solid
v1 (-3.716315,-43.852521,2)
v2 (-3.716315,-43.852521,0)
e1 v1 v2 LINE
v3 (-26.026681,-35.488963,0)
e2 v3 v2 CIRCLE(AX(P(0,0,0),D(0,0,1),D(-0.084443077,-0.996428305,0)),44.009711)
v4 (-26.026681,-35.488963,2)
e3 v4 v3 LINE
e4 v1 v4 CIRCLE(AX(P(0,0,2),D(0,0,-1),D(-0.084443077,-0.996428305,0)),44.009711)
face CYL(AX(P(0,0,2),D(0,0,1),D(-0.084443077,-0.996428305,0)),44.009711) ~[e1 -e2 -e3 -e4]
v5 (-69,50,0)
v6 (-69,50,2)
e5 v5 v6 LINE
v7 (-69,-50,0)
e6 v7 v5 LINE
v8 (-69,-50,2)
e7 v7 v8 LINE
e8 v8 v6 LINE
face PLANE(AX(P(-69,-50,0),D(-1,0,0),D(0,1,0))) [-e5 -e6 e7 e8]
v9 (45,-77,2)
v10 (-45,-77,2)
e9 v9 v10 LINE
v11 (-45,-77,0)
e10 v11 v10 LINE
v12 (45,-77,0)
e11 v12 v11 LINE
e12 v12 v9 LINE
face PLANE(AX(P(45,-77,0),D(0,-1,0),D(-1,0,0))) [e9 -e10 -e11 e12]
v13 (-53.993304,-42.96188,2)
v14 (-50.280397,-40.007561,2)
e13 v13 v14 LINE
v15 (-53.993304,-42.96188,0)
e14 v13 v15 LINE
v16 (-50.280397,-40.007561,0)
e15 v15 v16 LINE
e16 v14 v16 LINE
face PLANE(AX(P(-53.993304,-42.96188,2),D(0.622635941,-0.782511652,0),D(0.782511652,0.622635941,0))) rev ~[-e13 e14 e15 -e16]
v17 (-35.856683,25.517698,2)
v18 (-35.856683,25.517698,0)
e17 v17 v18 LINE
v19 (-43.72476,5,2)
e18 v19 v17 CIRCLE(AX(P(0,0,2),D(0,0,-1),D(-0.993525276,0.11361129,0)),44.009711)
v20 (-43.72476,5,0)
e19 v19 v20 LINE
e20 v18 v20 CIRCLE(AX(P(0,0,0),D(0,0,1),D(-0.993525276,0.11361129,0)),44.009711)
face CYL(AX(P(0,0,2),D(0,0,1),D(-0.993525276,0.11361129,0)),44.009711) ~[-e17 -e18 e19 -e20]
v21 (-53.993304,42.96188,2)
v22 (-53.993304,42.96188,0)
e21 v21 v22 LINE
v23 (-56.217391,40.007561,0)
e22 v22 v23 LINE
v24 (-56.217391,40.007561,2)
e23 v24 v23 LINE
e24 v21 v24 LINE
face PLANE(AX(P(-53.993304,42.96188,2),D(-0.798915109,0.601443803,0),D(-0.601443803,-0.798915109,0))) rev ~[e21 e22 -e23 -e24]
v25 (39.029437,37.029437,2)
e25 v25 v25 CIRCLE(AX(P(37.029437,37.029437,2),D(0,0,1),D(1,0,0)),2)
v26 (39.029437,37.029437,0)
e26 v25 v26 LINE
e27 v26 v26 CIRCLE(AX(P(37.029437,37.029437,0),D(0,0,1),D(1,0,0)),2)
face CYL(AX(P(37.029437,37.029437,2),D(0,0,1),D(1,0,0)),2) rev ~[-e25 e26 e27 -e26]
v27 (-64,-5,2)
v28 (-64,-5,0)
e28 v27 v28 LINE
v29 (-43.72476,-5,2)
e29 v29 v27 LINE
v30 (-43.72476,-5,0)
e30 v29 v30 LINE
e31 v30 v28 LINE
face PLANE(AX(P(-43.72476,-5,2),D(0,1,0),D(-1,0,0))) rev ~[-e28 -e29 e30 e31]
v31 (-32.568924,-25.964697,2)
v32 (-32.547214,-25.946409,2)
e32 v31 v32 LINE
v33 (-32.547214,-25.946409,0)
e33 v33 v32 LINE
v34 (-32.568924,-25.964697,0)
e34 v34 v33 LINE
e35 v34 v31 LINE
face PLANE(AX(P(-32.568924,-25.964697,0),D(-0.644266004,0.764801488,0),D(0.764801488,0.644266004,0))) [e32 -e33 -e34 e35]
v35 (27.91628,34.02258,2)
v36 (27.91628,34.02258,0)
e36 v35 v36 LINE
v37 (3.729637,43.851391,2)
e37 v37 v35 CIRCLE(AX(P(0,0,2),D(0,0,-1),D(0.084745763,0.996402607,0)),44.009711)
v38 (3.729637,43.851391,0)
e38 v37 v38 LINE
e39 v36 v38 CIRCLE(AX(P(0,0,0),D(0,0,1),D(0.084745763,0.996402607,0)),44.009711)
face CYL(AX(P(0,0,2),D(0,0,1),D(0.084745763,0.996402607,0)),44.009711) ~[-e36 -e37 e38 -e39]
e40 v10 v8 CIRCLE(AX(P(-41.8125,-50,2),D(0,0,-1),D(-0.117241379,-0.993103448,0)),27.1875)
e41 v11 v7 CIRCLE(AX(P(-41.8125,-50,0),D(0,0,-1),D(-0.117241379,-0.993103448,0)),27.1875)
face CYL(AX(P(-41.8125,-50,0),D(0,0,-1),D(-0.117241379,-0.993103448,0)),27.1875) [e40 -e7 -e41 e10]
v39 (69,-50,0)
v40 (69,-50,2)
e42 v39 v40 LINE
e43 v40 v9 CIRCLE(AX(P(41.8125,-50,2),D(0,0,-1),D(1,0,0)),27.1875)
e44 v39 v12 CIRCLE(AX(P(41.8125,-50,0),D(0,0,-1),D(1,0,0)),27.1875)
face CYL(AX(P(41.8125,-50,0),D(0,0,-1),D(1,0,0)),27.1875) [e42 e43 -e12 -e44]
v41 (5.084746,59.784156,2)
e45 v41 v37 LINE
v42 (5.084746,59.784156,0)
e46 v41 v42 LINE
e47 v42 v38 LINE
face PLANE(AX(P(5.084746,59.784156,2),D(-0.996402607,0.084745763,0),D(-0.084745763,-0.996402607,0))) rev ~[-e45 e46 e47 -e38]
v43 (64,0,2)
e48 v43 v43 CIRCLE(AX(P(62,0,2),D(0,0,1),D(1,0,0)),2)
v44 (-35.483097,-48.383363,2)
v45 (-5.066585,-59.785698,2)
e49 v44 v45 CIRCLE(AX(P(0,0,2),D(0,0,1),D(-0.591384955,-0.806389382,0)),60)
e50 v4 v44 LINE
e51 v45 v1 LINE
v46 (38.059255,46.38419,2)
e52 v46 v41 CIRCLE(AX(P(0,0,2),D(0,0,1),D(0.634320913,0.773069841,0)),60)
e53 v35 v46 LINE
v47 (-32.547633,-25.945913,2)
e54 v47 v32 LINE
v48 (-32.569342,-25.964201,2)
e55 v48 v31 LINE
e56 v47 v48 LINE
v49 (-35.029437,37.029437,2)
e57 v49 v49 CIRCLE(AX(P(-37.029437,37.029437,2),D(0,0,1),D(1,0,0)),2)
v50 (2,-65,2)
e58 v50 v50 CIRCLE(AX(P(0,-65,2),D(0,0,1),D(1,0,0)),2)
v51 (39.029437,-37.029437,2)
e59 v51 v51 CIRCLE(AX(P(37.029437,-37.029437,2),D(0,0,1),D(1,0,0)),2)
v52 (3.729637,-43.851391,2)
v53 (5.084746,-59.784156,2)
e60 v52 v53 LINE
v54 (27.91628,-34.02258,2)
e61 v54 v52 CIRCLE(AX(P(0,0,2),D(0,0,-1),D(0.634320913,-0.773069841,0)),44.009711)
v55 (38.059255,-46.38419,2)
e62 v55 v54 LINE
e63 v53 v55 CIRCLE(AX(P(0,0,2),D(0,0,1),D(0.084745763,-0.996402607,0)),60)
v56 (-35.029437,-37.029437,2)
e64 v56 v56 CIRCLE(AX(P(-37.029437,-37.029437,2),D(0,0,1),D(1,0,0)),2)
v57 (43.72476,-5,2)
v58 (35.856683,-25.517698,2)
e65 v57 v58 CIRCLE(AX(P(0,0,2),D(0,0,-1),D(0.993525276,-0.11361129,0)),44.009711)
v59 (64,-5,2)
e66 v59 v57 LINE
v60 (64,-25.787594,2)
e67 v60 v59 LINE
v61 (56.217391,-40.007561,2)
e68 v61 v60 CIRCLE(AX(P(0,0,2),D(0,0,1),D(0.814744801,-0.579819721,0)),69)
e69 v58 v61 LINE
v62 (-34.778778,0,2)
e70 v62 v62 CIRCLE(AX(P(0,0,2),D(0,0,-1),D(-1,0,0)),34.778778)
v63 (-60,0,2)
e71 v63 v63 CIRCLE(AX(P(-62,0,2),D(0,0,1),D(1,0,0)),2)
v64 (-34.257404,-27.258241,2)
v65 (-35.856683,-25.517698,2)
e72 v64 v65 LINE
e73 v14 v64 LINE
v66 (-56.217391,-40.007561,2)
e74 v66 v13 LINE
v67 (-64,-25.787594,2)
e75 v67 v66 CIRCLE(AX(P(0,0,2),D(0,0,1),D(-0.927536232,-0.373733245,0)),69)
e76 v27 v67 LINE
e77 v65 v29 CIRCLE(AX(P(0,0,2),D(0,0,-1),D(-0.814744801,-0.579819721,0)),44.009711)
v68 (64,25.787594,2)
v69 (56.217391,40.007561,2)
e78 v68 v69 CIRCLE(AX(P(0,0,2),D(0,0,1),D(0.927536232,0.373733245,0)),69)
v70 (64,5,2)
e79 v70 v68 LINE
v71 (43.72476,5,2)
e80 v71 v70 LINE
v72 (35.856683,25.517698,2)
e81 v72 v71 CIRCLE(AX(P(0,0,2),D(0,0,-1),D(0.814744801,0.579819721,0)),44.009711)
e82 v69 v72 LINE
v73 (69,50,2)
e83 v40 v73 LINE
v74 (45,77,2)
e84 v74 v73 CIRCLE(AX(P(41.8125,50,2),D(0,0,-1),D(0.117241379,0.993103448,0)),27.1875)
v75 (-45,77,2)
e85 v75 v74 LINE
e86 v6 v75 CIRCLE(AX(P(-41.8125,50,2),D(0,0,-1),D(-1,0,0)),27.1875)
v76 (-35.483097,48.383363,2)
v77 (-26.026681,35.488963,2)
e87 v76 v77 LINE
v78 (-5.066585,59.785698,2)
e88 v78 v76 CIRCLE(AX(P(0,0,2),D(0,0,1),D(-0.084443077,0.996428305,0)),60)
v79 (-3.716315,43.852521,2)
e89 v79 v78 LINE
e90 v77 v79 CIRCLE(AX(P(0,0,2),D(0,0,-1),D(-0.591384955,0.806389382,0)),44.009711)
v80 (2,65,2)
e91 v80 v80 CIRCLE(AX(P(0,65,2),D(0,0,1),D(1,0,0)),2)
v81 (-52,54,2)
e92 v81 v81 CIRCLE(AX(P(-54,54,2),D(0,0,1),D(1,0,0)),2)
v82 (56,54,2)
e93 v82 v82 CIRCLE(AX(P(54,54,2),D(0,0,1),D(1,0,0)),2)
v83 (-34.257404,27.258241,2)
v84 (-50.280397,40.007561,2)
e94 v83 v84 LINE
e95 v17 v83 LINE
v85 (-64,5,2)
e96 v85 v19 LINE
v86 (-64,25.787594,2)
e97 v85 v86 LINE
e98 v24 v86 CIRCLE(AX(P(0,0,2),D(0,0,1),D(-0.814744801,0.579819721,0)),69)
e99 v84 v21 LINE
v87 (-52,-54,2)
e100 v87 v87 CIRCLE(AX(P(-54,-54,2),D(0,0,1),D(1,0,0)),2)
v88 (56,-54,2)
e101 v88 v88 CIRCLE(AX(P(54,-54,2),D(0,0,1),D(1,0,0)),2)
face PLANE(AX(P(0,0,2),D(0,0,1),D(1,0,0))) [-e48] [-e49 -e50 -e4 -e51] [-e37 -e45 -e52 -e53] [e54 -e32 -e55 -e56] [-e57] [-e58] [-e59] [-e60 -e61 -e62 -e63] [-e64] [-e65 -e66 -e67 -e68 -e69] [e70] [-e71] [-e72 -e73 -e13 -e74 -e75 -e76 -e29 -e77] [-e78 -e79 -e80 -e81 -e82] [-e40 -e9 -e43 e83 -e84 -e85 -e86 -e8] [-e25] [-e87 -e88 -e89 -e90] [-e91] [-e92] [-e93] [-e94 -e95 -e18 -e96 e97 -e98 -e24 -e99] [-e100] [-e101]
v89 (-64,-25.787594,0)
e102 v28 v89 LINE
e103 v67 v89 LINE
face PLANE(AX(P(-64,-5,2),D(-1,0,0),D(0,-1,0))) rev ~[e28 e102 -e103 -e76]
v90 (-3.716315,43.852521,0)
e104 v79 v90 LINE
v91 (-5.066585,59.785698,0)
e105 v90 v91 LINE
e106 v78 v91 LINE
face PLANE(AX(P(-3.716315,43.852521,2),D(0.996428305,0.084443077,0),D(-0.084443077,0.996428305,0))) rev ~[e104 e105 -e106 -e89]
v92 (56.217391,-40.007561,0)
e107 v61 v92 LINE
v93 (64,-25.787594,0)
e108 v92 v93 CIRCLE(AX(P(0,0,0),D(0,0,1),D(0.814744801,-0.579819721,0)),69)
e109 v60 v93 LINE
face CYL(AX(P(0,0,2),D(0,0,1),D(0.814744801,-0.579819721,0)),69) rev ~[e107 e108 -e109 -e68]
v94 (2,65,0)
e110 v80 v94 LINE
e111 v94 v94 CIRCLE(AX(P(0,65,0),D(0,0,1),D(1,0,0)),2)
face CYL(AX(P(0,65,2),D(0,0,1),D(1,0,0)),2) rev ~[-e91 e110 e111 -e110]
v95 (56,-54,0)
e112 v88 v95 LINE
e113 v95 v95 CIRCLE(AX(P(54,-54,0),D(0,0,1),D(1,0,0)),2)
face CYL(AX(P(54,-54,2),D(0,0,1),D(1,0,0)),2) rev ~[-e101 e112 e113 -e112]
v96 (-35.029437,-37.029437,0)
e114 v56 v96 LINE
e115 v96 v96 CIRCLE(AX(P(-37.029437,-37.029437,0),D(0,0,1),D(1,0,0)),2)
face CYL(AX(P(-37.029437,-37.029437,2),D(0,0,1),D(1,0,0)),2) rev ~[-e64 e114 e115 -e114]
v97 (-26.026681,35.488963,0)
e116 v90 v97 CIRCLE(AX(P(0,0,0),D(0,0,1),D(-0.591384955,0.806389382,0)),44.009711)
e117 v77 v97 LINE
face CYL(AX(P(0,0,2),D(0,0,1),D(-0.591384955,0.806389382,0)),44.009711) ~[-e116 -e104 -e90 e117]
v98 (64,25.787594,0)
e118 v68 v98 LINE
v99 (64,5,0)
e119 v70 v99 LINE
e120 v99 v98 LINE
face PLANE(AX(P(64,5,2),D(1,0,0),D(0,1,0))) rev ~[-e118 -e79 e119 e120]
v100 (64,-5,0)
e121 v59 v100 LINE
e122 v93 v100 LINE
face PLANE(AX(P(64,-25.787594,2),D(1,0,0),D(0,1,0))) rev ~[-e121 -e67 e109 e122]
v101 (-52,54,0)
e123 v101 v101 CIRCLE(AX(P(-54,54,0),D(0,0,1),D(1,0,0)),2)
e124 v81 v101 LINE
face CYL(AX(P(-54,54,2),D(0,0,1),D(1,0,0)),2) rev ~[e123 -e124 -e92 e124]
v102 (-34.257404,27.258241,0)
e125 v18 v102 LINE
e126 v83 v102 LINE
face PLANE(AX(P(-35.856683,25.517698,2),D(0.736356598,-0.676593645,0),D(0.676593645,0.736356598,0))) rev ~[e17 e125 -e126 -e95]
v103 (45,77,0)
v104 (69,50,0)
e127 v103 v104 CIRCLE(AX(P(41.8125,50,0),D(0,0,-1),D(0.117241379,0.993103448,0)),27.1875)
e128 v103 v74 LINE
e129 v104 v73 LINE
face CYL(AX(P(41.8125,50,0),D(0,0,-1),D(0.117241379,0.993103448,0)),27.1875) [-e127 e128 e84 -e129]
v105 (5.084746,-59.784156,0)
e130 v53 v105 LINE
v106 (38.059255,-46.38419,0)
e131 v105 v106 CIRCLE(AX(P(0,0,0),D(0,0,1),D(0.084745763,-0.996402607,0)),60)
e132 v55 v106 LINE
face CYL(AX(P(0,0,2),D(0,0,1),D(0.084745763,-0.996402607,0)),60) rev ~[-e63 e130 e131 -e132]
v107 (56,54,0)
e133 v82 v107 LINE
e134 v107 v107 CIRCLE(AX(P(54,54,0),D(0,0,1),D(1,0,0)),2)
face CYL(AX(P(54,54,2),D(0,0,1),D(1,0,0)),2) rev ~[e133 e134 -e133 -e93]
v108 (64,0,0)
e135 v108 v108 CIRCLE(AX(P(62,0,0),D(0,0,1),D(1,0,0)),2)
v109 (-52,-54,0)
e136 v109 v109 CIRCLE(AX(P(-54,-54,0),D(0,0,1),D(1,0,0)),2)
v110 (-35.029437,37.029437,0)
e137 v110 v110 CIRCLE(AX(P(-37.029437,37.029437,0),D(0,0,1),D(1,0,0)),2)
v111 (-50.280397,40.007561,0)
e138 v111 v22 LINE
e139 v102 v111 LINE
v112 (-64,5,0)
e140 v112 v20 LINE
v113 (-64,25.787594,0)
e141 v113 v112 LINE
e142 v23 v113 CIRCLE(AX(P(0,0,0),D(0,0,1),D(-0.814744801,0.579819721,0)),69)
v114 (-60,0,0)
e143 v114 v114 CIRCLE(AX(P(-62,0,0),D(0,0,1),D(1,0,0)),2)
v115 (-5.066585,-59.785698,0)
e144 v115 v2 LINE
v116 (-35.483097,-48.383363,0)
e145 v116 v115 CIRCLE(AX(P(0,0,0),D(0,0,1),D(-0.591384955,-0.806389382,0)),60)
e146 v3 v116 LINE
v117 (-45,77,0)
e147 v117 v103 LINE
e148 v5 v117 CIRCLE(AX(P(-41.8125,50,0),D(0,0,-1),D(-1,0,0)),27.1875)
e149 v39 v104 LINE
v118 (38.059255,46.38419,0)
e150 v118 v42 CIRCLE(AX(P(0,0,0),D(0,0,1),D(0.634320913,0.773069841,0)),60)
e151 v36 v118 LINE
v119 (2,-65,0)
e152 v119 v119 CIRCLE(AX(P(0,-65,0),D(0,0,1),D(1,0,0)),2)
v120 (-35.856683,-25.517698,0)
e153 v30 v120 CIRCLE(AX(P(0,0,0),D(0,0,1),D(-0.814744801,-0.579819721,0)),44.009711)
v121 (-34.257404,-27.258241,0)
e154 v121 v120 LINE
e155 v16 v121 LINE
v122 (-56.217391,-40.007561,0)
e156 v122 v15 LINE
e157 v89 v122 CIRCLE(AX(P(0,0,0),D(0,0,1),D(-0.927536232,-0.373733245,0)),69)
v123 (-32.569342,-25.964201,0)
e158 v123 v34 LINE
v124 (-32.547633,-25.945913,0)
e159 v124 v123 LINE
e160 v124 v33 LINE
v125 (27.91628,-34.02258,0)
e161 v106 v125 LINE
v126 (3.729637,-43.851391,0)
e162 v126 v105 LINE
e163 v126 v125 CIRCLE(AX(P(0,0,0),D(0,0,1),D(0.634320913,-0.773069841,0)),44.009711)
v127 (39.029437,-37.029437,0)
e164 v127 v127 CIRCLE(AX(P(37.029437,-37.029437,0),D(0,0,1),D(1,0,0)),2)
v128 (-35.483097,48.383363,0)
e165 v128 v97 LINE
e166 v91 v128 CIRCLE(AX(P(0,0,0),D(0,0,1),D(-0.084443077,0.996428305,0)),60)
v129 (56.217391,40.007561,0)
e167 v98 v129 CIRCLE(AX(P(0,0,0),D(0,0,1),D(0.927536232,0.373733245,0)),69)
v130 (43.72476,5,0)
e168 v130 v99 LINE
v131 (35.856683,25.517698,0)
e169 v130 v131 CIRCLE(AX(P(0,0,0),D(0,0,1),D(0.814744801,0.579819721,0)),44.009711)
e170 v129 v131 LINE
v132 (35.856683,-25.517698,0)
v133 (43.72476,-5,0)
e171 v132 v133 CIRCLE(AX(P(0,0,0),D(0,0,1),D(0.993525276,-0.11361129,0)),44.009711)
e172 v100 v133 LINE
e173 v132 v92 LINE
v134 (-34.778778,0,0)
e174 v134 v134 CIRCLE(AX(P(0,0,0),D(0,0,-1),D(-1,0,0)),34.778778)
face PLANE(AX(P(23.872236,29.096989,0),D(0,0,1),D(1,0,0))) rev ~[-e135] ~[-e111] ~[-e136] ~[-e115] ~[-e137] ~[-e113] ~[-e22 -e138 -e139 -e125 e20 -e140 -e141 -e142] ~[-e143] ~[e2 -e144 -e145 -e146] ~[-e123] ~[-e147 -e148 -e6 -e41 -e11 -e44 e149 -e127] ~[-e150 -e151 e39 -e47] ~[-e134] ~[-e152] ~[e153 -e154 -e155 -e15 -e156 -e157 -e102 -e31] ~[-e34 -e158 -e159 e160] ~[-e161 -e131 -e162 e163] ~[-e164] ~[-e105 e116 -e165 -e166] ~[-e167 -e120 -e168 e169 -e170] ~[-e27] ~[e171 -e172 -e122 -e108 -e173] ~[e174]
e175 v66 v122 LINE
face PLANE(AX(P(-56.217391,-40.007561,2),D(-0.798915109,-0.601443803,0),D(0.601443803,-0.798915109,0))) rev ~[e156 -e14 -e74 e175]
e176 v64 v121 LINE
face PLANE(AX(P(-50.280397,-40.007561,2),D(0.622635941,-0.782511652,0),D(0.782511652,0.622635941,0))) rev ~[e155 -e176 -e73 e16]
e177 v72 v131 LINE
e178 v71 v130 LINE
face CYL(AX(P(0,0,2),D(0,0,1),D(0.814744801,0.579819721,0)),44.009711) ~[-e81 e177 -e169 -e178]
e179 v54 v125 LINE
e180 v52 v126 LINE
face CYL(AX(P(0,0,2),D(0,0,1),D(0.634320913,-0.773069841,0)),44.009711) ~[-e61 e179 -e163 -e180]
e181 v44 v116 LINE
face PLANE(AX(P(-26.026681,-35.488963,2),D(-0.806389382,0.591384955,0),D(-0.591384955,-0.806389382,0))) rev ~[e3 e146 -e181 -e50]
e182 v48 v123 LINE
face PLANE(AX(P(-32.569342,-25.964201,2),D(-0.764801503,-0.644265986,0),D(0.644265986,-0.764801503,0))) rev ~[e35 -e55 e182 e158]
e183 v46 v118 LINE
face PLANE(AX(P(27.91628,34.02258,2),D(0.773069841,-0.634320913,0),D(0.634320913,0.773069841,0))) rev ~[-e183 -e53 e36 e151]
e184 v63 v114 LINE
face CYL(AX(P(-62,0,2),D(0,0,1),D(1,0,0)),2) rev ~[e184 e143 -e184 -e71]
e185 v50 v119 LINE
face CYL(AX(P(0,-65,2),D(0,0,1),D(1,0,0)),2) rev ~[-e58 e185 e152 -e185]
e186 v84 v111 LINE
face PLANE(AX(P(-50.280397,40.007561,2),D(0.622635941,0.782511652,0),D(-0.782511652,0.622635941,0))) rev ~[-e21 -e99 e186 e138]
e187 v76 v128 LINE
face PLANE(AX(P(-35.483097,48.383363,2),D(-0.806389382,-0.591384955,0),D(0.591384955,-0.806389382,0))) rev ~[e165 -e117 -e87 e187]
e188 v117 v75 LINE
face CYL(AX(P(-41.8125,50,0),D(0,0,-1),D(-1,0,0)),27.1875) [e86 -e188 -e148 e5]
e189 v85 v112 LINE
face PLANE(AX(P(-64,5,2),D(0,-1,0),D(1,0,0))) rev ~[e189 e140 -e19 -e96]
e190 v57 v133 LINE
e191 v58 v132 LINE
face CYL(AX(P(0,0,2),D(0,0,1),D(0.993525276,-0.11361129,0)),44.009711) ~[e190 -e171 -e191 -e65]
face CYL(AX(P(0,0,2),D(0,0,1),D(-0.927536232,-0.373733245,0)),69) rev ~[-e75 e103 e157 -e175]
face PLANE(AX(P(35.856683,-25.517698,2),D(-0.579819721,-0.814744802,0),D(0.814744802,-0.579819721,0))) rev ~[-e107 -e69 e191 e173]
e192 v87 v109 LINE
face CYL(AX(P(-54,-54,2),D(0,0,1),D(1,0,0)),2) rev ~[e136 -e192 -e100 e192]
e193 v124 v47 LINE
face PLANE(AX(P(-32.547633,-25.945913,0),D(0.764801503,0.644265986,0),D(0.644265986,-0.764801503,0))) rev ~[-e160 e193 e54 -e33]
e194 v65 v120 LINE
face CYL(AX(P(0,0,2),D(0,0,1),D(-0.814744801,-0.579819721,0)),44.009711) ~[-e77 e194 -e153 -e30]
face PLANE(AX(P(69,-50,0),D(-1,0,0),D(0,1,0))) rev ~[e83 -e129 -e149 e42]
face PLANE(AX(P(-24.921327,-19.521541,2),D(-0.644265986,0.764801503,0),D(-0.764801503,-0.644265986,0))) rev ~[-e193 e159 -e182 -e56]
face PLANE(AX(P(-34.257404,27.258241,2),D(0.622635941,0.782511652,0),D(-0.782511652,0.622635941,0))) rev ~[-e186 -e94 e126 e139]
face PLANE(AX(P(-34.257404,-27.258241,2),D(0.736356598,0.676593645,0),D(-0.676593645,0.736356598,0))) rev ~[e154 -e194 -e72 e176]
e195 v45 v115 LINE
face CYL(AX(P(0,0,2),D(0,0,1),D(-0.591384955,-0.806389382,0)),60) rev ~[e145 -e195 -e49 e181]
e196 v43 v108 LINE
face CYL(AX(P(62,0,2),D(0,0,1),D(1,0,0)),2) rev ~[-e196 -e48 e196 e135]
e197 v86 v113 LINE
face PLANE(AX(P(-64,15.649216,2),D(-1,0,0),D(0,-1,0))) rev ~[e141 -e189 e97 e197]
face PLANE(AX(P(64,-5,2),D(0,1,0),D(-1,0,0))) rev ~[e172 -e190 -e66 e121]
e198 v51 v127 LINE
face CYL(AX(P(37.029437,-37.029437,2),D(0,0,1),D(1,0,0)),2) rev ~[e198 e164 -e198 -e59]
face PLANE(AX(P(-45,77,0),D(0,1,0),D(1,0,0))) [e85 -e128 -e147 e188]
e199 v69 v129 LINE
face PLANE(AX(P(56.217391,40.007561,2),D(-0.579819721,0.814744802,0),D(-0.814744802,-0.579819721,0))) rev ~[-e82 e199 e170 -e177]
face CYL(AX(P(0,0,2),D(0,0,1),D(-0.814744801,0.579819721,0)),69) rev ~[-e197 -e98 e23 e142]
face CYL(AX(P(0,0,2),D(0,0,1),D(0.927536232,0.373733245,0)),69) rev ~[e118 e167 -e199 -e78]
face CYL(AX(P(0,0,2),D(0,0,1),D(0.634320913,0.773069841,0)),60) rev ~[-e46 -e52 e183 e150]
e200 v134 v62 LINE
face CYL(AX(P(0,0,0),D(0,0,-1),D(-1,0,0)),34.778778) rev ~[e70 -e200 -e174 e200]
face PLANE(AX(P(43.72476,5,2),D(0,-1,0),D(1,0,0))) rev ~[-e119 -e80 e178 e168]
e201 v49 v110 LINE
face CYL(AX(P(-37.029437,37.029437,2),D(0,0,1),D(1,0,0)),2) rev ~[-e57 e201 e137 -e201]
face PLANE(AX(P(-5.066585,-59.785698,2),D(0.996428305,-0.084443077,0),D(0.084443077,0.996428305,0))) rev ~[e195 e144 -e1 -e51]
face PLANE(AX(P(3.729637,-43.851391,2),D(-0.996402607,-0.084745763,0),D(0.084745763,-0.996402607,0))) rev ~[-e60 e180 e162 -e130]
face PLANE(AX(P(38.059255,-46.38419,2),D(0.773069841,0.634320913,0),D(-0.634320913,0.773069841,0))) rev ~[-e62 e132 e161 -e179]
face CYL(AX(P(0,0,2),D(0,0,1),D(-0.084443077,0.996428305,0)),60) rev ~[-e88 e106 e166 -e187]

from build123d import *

# Parameters (mm, degrees)
SKETCH1_W           = 90
SKETCH1_H           = 100
SKETCH1_H_2         = 22
SKETCH1_W_2         = 24
BOSS_EXTRUDE1_DEPTH = 2
CUT_EXTRUDE1_DEPTH  = 10
CUT_EXTRUDE2_DEPTH  = 10
SKETCH4_R           = 30
CUT_EXTRUDE3_DEPTH  = 10
CUT_EXTRUDE4_DEPTH  = 10
CUT_EXTRUDE5_DEPTH  = 10
BOSS_EXTRUDE3_START = -2
SKETCH8_R           = 30
SKETCH8_R_2         = 28
BOSS_EXTRUDE3_DEPTH = 2
BOSS_EXTRUDE5_DEPTH = 2
BOSS_EXTRUDE6_DEPTH = 2
SKETCH11_R          = 34.778777804
CUT_EXTRUDE6_DEPTH  = 10
SKETCH12_R          = 2
CUT_EXTRUDE7_DEPTH  = 10


with BuildPart() as part:
    # Sketch1 → Boss-Extrude1 (new body)
    with BuildSketch(Plane.XY):
        Rectangle(SKETCH1_W, SKETCH1_H)
        with Locations((0, 61)):
            Rectangle(SKETCH1_W, SKETCH1_H_2)
        with Locations((57, 0)):
            Rectangle(SKETCH1_W_2, SKETCH1_H)
        with BuildLine():
            Line((45, 50), (69, 50))
            ThreePointArc((69, 50), (61.278820596, 65.667804287), (45, 72))
            Line((45, 72), (45, 50))
        make_face()
        with BuildLine():
            ThreePointArc((45, -72), (61.83891888, -66.278820596), (69, -50))
            Line((69, -50), (45, -50))
            Line((45, -50), (45, -72))
        make_face()
        with Locations((0, -61)):
            Rectangle(SKETCH1_W, SKETCH1_H_2)
        with BuildLine():
            Line((-45, -72), (-45, -50))
            Line((-45, -50), (-69, -50))
            ThreePointArc((-69, -50), (-61.278820596, -65.667804287), (-45, -72))
        make_face()
        with Locations((-57, 0)):
            Rectangle(SKETCH1_W_2, SKETCH1_H)
        with BuildLine():
            Line((-69, 50), (-45, 50))
            Line((-45, 50), (-45, 72))
            ThreePointArc((-45, 72), (-61.83891888, 66.278820596), (-69, 50))
        make_face()
    extrude(amount=BOSS_EXTRUDE1_DEPTH)

    # Sketch2 → Cut-Extrude1 (cut)
    with BuildSketch(Plane.XY.offset(2)):
        with BuildLine():
            Line((-60.760739313, 25.787593916), (-64, 15.649215929))
            Line((-64, 15.649215929), (-64, 5))
            Line((-64, 5), (-43.724760028, 5))
            ThreePointArc((-43.724760028, 5), (-41.091915324, 15.757827722), (-35.856683042, 25.517698186))
            Line((-35.856683042, 25.517698186), (-56.217391304, 40.007560722))
            ThreePointArc((-56.217391304, 40.007560722), (-60.52773874, 33.126920216), (-64, 25.787593916))
            Line((-64, 25.787593916), (-60.760739313, 25.787593916))
        make_face()
        with BuildLine():
            Line((-64, -5), (-64, -25.787593916))
            ThreePointArc((-64, -25.787593916), (-60.52773874, -33.126920216), (-56.217391304, -40.007560722))
            Line((-56.217391304, -40.007560722), (-35.856683042, -25.517698186))
            ThreePointArc((-35.856683042, -25.517698186), (-41.091915324, -15.757827722), (-43.724760028, -5))
            Line((-43.724760028, -5), (-64, -5))
        make_face()
        with BuildLine():
            Line((-35.483097289, 48.383362913), (-26.026680798, 35.488963441))
            ThreePointArc((-26.026680798, 35.488963441), (-15.448259809, 41.209293956), (-3.716315379, 43.852521472))
            Line((-3.716315379, 43.852521472), (-5.066584601, 59.785698294))
            ThreePointArc((-5.066584601, 59.785698294), (-21.061160661, 56.182092446), (-35.483097289, 48.383362913))
        make_face()
        with BuildLine():
            ThreePointArc((64, 25.787593916), (60.52773874, 33.126920216), (56.217391304, 40.007560722))
            Line((56.217391304, 40.007560722), (35.856683042, 25.517698186))
            ThreePointArc((35.856683042, 25.517698186), (41.091915324, 15.757827722), (43.724760028, 5))
            Line((43.724760028, 5), (64, 5))
            Line((64, 5), (64, 25.787593916))
        make_face()
        with BuildLine():
            Line((-26.026680798, -35.488963441), (-35.483097289, -48.383362913))
            ThreePointArc((-35.483097289, -48.383362913), (-21.061160661, -56.182092446), (-5.066584601, -59.785698294))
            Line((-5.066584601, -59.785698294), (-3.716315379, -43.852521472))
            ThreePointArc((-3.716315379, -43.852521472), (-15.448259809, -41.209293956), (-26.026680798, -35.488963441))
        make_face()
        with BuildLine():
            ThreePointArc((56.217391304, -40.007560722), (60.52773874, -33.126920216), (64, -25.787593916))
            Line((64, -25.787593916), (64, -5))
            Line((64, -5), (43.724760028, -5))
            ThreePointArc((43.724760028, -5), (41.091915324, -15.757827722), (35.856683042, -25.517698186))
            Line((35.856683042, -25.517698186), (56.217391304, -40.007560722))
        make_face()
        with BuildLine():
            Line((27.916279909, 34.022580083), (38.059254795, 46.384190458))
            ThreePointArc((38.059254795, 46.384190458), (22.588514074, 55.585600941), (5.084745763, 59.784156434))
            Line((5.084745763, 59.784156434), (3.729636503, 43.851390526))
            ThreePointArc((3.729636503, 43.851390526), (16.568566174, 40.771770312), (27.916279909, 34.022580083))
        make_face()
        with BuildLine():
            Line((3.729636503, -43.851390526), (5.084745763, -59.784156434))
            ThreePointArc((5.084745763, -59.784156434), (22.588514074, -55.585600941), (38.059254795, -46.384190458))
            Line((38.059254795, -46.384190458), (27.916279909, -34.022580083))
            ThreePointArc((27.916279909, -34.022580083), (16.568566174, -40.771770312), (3.729636503, -43.851390526))
        make_face()
    extrude(amount=-CUT_EXTRUDE1_DEPTH, mode=Mode.SUBTRACT)

    # Sketch3 → Cut-Extrude2 (cut)
    with BuildSketch(Plane.XY.offset(2)):
        Polygon((-64, 25.787593916), (-64, 15.649215929), (-60.760739313, 25.787593916), align=None)
    extrude(amount=-CUT_EXTRUDE2_DEPTH, mode=Mode.SUBTRACT)

    # Sketch4 → Cut-Extrude3 (cut)
    with BuildSketch(Plane(origin=(0, 0, 0), x_dir=(-1, 0, 0), z_dir=(0, 0, -1))):
        Circle(SKETCH4_R)
    extrude(amount=-CUT_EXTRUDE3_DEPTH, mode=Mode.SUBTRACT)

    # Sketch6 → Cut-Extrude4 (cut)
    with BuildSketch(Plane.XY.offset(2)):
        Polygon((-35.856683042, -25.517698186), (-56.217391304, -40.007560722), (-50.280397209, -40.007560722), (-34.257403731, -27.258240508), align=None)
        Polygon((-50.280397209, 40.007560722), (-56.217391304, 40.007560722), (-35.856683042, 25.517698186), (-34.257403731, 27.258240508), align=None)
        Polygon((-50.280397209, -40.007560722), (-56.217391304, -40.007560722), (-53.993303971, -42.96187992), align=None)
        Polygon((-53.993303971, 42.96187992), (-56.217391304, 40.007560722), (-50.280397209, 40.007560722), align=None)
    extrude(amount=-CUT_EXTRUDE4_DEPTH, mode=Mode.SUBTRACT)

    # Sketch7 → Cut-Extrude5 (cut)
    with BuildSketch(Plane.XY.offset(2)):
        Polygon((-32.560271117, 27.267561972), (-24.823321267, 33.603144582), (-18.487738656, 25.866194731), (-26.224688507, 19.530612121), align=None)
        Polygon((27.827762823, 32.155388995), (19.915267174, 26.040455421), (26.030200748, 18.127959772), (33.942696396, 24.242893346), align=None)
        Polygon((33.988304577, -25.549058378), (27.336365779, -18.082351592), (19.869658993, -24.734290389), (26.521597791, -32.200997176), align=None)
        Polygon((-26.126682472, -33.612215797), (-18.478667441, -27.169555937), (-24.921327301, -19.521540905), (-32.569342333, -25.964200766), align=None)
    extrude(amount=-CUT_EXTRUDE5_DEPTH, mode=Mode.SUBTRACT)

    # Sketch8 → Boss-Extrude3 (add)
    with BuildSketch(Plane.XY.offset(2).offset(BOSS_EXTRUDE3_START)):
        Circle(SKETCH8_R)
        Circle(SKETCH8_R_2, mode=Mode.SUBTRACT)
    extrude(amount=BOSS_EXTRUDE3_DEPTH)

    # Sketch9 → Boss-Extrude5 (add)
    with BuildSketch(Plane(origin=(0, 0, 0), x_dir=(-1, 0, 0), z_dir=(0, 0, -1))):
        Polygon((32.694861491, 27.157349491), (26.359278881, 19.420399641), (18.487738656, 25.866194731), (24.823321267, 33.603144582), align=None)
        Polygon((32.547632539, -25.945912516), (26.104972678, -33.593927547), (18.478667441, -27.169555937), (24.921327301, -19.521540905), align=None)
        Polygon((-27.336365779, -18.082351592), (-34.046734551, -25.614645193), (-26.580027765, -32.266583991), (-19.869658993, -24.734290389), align=None)
        Polygon((-27.829205352, 32.153522415), (-19.916709703, 26.038588842), (-26.030200748, 18.127959772), (-33.942696396, 24.242893346), align=None)
        with BuildLine():
            Line((-45, 72), (0, 72))
            Line((0, 72), (0, 77))
            Line((0, 77), (-45, 77))
            ThreePointArc((-45, 77), (-62.132690852, 68.062391868), (-69, 50))
            ThreePointArc((-69, 50), (-61.278820596, 65.667804287), (-45, 72))
        make_face()
        with BuildLine():
            Line((0, 77), (0, 72))
            Line((0, 72), (45, 72))
            ThreePointArc((45, 72), (61.278820596, 65.667804287), (69, 50))
            ThreePointArc((69, 50), (62.132690852, 68.062391868), (45, 77))
            Line((45, 77), (0, 77))
        make_face()
        with BuildLine():
            ThreePointArc((45, -77), (62.132690852, -68.062391868), (69, -50))
            ThreePointArc((69, -50), (61.278820596, -65.667804287), (45, -72))
            Line((45, -72), (0, -72))
            Line((0, -72), (0, -77))
            Line((0, -77), (45, -77))
        make_face()
        with BuildLine():
            ThreePointArc((-45, -72), (-61.278820596, -65.667804287), (-69, -50))
            ThreePointArc((-69, -50), (-62.132690852, -68.062391868), (-45, -77))
            Line((-45, -77), (0, -77))
            Line((0, -77), (0, -72))
            Line((0, -72), (-45, -72))
        make_face()
    extrude(amount=-BOSS_EXTRUDE5_DEPTH)

    # Sketch10 → Boss-Extrude6 (add)
    with BuildSketch(Plane(origin=(0, 0, 0), x_dir=(-1, 0, 0), z_dir=(0, 0, -1))):
        Polygon((-27.829205352, 32.153522415), (-27.827762823, 32.155388995), (-19.915267174, 26.040455421), (-19.916709703, 26.038588842), align=None)
        Polygon((26.104972678, -33.593927547), (26.126682472, -33.612215797), (32.568924212, -25.964697113), (32.547214419, -25.946408862), align=None)
    extrude(amount=-BOSS_EXTRUDE6_DEPTH)

    # Sketch11 → Cut-Extrude6 (cut)
    with BuildSketch(Plane(origin=(0, 0, 0), x_dir=(-1, 0, 0), z_dir=(0, 0, -1))):
        Circle(SKETCH11_R)
    extrude(amount=-CUT_EXTRUDE6_DEPTH, mode=Mode.SUBTRACT)

    # Sketch12 → Cut-Extrude7 (cut)
    with BuildSketch(Plane.XY.offset(2)):
        with Locations((0, -65)):
            Circle(SKETCH12_R)
        with Locations((62, 0)):
            Circle(SKETCH12_R)
        with Locations((-62, 0)):
            Circle(SKETCH12_R)
        with Locations((0, 65)):
            Circle(SKETCH12_R)
        with Locations((-37.029437252, 37.029437252)):
            Circle(SKETCH12_R)
        with Locations((-54, 54)):
            Circle(SKETCH12_R)
        with Locations((54, 54)):
            Circle(SKETCH12_R)
        with Locations((37.029437252, 37.029437252)):
            Circle(SKETCH12_R)
        with Locations((-54, -54)):
            Circle(SKETCH12_R)
        with Locations((-37.029437252, -37.029437252)):
            Circle(SKETCH12_R)
        with Locations((37.029437252, -37.029437252)):
            Circle(SKETCH12_R)
        with Locations((54, -54)):
            Circle(SKETCH12_R)
    extrude(amount=-CUT_EXTRUDE7_DEPTH, mode=Mode.SUBTRACT)


solid = part.part
